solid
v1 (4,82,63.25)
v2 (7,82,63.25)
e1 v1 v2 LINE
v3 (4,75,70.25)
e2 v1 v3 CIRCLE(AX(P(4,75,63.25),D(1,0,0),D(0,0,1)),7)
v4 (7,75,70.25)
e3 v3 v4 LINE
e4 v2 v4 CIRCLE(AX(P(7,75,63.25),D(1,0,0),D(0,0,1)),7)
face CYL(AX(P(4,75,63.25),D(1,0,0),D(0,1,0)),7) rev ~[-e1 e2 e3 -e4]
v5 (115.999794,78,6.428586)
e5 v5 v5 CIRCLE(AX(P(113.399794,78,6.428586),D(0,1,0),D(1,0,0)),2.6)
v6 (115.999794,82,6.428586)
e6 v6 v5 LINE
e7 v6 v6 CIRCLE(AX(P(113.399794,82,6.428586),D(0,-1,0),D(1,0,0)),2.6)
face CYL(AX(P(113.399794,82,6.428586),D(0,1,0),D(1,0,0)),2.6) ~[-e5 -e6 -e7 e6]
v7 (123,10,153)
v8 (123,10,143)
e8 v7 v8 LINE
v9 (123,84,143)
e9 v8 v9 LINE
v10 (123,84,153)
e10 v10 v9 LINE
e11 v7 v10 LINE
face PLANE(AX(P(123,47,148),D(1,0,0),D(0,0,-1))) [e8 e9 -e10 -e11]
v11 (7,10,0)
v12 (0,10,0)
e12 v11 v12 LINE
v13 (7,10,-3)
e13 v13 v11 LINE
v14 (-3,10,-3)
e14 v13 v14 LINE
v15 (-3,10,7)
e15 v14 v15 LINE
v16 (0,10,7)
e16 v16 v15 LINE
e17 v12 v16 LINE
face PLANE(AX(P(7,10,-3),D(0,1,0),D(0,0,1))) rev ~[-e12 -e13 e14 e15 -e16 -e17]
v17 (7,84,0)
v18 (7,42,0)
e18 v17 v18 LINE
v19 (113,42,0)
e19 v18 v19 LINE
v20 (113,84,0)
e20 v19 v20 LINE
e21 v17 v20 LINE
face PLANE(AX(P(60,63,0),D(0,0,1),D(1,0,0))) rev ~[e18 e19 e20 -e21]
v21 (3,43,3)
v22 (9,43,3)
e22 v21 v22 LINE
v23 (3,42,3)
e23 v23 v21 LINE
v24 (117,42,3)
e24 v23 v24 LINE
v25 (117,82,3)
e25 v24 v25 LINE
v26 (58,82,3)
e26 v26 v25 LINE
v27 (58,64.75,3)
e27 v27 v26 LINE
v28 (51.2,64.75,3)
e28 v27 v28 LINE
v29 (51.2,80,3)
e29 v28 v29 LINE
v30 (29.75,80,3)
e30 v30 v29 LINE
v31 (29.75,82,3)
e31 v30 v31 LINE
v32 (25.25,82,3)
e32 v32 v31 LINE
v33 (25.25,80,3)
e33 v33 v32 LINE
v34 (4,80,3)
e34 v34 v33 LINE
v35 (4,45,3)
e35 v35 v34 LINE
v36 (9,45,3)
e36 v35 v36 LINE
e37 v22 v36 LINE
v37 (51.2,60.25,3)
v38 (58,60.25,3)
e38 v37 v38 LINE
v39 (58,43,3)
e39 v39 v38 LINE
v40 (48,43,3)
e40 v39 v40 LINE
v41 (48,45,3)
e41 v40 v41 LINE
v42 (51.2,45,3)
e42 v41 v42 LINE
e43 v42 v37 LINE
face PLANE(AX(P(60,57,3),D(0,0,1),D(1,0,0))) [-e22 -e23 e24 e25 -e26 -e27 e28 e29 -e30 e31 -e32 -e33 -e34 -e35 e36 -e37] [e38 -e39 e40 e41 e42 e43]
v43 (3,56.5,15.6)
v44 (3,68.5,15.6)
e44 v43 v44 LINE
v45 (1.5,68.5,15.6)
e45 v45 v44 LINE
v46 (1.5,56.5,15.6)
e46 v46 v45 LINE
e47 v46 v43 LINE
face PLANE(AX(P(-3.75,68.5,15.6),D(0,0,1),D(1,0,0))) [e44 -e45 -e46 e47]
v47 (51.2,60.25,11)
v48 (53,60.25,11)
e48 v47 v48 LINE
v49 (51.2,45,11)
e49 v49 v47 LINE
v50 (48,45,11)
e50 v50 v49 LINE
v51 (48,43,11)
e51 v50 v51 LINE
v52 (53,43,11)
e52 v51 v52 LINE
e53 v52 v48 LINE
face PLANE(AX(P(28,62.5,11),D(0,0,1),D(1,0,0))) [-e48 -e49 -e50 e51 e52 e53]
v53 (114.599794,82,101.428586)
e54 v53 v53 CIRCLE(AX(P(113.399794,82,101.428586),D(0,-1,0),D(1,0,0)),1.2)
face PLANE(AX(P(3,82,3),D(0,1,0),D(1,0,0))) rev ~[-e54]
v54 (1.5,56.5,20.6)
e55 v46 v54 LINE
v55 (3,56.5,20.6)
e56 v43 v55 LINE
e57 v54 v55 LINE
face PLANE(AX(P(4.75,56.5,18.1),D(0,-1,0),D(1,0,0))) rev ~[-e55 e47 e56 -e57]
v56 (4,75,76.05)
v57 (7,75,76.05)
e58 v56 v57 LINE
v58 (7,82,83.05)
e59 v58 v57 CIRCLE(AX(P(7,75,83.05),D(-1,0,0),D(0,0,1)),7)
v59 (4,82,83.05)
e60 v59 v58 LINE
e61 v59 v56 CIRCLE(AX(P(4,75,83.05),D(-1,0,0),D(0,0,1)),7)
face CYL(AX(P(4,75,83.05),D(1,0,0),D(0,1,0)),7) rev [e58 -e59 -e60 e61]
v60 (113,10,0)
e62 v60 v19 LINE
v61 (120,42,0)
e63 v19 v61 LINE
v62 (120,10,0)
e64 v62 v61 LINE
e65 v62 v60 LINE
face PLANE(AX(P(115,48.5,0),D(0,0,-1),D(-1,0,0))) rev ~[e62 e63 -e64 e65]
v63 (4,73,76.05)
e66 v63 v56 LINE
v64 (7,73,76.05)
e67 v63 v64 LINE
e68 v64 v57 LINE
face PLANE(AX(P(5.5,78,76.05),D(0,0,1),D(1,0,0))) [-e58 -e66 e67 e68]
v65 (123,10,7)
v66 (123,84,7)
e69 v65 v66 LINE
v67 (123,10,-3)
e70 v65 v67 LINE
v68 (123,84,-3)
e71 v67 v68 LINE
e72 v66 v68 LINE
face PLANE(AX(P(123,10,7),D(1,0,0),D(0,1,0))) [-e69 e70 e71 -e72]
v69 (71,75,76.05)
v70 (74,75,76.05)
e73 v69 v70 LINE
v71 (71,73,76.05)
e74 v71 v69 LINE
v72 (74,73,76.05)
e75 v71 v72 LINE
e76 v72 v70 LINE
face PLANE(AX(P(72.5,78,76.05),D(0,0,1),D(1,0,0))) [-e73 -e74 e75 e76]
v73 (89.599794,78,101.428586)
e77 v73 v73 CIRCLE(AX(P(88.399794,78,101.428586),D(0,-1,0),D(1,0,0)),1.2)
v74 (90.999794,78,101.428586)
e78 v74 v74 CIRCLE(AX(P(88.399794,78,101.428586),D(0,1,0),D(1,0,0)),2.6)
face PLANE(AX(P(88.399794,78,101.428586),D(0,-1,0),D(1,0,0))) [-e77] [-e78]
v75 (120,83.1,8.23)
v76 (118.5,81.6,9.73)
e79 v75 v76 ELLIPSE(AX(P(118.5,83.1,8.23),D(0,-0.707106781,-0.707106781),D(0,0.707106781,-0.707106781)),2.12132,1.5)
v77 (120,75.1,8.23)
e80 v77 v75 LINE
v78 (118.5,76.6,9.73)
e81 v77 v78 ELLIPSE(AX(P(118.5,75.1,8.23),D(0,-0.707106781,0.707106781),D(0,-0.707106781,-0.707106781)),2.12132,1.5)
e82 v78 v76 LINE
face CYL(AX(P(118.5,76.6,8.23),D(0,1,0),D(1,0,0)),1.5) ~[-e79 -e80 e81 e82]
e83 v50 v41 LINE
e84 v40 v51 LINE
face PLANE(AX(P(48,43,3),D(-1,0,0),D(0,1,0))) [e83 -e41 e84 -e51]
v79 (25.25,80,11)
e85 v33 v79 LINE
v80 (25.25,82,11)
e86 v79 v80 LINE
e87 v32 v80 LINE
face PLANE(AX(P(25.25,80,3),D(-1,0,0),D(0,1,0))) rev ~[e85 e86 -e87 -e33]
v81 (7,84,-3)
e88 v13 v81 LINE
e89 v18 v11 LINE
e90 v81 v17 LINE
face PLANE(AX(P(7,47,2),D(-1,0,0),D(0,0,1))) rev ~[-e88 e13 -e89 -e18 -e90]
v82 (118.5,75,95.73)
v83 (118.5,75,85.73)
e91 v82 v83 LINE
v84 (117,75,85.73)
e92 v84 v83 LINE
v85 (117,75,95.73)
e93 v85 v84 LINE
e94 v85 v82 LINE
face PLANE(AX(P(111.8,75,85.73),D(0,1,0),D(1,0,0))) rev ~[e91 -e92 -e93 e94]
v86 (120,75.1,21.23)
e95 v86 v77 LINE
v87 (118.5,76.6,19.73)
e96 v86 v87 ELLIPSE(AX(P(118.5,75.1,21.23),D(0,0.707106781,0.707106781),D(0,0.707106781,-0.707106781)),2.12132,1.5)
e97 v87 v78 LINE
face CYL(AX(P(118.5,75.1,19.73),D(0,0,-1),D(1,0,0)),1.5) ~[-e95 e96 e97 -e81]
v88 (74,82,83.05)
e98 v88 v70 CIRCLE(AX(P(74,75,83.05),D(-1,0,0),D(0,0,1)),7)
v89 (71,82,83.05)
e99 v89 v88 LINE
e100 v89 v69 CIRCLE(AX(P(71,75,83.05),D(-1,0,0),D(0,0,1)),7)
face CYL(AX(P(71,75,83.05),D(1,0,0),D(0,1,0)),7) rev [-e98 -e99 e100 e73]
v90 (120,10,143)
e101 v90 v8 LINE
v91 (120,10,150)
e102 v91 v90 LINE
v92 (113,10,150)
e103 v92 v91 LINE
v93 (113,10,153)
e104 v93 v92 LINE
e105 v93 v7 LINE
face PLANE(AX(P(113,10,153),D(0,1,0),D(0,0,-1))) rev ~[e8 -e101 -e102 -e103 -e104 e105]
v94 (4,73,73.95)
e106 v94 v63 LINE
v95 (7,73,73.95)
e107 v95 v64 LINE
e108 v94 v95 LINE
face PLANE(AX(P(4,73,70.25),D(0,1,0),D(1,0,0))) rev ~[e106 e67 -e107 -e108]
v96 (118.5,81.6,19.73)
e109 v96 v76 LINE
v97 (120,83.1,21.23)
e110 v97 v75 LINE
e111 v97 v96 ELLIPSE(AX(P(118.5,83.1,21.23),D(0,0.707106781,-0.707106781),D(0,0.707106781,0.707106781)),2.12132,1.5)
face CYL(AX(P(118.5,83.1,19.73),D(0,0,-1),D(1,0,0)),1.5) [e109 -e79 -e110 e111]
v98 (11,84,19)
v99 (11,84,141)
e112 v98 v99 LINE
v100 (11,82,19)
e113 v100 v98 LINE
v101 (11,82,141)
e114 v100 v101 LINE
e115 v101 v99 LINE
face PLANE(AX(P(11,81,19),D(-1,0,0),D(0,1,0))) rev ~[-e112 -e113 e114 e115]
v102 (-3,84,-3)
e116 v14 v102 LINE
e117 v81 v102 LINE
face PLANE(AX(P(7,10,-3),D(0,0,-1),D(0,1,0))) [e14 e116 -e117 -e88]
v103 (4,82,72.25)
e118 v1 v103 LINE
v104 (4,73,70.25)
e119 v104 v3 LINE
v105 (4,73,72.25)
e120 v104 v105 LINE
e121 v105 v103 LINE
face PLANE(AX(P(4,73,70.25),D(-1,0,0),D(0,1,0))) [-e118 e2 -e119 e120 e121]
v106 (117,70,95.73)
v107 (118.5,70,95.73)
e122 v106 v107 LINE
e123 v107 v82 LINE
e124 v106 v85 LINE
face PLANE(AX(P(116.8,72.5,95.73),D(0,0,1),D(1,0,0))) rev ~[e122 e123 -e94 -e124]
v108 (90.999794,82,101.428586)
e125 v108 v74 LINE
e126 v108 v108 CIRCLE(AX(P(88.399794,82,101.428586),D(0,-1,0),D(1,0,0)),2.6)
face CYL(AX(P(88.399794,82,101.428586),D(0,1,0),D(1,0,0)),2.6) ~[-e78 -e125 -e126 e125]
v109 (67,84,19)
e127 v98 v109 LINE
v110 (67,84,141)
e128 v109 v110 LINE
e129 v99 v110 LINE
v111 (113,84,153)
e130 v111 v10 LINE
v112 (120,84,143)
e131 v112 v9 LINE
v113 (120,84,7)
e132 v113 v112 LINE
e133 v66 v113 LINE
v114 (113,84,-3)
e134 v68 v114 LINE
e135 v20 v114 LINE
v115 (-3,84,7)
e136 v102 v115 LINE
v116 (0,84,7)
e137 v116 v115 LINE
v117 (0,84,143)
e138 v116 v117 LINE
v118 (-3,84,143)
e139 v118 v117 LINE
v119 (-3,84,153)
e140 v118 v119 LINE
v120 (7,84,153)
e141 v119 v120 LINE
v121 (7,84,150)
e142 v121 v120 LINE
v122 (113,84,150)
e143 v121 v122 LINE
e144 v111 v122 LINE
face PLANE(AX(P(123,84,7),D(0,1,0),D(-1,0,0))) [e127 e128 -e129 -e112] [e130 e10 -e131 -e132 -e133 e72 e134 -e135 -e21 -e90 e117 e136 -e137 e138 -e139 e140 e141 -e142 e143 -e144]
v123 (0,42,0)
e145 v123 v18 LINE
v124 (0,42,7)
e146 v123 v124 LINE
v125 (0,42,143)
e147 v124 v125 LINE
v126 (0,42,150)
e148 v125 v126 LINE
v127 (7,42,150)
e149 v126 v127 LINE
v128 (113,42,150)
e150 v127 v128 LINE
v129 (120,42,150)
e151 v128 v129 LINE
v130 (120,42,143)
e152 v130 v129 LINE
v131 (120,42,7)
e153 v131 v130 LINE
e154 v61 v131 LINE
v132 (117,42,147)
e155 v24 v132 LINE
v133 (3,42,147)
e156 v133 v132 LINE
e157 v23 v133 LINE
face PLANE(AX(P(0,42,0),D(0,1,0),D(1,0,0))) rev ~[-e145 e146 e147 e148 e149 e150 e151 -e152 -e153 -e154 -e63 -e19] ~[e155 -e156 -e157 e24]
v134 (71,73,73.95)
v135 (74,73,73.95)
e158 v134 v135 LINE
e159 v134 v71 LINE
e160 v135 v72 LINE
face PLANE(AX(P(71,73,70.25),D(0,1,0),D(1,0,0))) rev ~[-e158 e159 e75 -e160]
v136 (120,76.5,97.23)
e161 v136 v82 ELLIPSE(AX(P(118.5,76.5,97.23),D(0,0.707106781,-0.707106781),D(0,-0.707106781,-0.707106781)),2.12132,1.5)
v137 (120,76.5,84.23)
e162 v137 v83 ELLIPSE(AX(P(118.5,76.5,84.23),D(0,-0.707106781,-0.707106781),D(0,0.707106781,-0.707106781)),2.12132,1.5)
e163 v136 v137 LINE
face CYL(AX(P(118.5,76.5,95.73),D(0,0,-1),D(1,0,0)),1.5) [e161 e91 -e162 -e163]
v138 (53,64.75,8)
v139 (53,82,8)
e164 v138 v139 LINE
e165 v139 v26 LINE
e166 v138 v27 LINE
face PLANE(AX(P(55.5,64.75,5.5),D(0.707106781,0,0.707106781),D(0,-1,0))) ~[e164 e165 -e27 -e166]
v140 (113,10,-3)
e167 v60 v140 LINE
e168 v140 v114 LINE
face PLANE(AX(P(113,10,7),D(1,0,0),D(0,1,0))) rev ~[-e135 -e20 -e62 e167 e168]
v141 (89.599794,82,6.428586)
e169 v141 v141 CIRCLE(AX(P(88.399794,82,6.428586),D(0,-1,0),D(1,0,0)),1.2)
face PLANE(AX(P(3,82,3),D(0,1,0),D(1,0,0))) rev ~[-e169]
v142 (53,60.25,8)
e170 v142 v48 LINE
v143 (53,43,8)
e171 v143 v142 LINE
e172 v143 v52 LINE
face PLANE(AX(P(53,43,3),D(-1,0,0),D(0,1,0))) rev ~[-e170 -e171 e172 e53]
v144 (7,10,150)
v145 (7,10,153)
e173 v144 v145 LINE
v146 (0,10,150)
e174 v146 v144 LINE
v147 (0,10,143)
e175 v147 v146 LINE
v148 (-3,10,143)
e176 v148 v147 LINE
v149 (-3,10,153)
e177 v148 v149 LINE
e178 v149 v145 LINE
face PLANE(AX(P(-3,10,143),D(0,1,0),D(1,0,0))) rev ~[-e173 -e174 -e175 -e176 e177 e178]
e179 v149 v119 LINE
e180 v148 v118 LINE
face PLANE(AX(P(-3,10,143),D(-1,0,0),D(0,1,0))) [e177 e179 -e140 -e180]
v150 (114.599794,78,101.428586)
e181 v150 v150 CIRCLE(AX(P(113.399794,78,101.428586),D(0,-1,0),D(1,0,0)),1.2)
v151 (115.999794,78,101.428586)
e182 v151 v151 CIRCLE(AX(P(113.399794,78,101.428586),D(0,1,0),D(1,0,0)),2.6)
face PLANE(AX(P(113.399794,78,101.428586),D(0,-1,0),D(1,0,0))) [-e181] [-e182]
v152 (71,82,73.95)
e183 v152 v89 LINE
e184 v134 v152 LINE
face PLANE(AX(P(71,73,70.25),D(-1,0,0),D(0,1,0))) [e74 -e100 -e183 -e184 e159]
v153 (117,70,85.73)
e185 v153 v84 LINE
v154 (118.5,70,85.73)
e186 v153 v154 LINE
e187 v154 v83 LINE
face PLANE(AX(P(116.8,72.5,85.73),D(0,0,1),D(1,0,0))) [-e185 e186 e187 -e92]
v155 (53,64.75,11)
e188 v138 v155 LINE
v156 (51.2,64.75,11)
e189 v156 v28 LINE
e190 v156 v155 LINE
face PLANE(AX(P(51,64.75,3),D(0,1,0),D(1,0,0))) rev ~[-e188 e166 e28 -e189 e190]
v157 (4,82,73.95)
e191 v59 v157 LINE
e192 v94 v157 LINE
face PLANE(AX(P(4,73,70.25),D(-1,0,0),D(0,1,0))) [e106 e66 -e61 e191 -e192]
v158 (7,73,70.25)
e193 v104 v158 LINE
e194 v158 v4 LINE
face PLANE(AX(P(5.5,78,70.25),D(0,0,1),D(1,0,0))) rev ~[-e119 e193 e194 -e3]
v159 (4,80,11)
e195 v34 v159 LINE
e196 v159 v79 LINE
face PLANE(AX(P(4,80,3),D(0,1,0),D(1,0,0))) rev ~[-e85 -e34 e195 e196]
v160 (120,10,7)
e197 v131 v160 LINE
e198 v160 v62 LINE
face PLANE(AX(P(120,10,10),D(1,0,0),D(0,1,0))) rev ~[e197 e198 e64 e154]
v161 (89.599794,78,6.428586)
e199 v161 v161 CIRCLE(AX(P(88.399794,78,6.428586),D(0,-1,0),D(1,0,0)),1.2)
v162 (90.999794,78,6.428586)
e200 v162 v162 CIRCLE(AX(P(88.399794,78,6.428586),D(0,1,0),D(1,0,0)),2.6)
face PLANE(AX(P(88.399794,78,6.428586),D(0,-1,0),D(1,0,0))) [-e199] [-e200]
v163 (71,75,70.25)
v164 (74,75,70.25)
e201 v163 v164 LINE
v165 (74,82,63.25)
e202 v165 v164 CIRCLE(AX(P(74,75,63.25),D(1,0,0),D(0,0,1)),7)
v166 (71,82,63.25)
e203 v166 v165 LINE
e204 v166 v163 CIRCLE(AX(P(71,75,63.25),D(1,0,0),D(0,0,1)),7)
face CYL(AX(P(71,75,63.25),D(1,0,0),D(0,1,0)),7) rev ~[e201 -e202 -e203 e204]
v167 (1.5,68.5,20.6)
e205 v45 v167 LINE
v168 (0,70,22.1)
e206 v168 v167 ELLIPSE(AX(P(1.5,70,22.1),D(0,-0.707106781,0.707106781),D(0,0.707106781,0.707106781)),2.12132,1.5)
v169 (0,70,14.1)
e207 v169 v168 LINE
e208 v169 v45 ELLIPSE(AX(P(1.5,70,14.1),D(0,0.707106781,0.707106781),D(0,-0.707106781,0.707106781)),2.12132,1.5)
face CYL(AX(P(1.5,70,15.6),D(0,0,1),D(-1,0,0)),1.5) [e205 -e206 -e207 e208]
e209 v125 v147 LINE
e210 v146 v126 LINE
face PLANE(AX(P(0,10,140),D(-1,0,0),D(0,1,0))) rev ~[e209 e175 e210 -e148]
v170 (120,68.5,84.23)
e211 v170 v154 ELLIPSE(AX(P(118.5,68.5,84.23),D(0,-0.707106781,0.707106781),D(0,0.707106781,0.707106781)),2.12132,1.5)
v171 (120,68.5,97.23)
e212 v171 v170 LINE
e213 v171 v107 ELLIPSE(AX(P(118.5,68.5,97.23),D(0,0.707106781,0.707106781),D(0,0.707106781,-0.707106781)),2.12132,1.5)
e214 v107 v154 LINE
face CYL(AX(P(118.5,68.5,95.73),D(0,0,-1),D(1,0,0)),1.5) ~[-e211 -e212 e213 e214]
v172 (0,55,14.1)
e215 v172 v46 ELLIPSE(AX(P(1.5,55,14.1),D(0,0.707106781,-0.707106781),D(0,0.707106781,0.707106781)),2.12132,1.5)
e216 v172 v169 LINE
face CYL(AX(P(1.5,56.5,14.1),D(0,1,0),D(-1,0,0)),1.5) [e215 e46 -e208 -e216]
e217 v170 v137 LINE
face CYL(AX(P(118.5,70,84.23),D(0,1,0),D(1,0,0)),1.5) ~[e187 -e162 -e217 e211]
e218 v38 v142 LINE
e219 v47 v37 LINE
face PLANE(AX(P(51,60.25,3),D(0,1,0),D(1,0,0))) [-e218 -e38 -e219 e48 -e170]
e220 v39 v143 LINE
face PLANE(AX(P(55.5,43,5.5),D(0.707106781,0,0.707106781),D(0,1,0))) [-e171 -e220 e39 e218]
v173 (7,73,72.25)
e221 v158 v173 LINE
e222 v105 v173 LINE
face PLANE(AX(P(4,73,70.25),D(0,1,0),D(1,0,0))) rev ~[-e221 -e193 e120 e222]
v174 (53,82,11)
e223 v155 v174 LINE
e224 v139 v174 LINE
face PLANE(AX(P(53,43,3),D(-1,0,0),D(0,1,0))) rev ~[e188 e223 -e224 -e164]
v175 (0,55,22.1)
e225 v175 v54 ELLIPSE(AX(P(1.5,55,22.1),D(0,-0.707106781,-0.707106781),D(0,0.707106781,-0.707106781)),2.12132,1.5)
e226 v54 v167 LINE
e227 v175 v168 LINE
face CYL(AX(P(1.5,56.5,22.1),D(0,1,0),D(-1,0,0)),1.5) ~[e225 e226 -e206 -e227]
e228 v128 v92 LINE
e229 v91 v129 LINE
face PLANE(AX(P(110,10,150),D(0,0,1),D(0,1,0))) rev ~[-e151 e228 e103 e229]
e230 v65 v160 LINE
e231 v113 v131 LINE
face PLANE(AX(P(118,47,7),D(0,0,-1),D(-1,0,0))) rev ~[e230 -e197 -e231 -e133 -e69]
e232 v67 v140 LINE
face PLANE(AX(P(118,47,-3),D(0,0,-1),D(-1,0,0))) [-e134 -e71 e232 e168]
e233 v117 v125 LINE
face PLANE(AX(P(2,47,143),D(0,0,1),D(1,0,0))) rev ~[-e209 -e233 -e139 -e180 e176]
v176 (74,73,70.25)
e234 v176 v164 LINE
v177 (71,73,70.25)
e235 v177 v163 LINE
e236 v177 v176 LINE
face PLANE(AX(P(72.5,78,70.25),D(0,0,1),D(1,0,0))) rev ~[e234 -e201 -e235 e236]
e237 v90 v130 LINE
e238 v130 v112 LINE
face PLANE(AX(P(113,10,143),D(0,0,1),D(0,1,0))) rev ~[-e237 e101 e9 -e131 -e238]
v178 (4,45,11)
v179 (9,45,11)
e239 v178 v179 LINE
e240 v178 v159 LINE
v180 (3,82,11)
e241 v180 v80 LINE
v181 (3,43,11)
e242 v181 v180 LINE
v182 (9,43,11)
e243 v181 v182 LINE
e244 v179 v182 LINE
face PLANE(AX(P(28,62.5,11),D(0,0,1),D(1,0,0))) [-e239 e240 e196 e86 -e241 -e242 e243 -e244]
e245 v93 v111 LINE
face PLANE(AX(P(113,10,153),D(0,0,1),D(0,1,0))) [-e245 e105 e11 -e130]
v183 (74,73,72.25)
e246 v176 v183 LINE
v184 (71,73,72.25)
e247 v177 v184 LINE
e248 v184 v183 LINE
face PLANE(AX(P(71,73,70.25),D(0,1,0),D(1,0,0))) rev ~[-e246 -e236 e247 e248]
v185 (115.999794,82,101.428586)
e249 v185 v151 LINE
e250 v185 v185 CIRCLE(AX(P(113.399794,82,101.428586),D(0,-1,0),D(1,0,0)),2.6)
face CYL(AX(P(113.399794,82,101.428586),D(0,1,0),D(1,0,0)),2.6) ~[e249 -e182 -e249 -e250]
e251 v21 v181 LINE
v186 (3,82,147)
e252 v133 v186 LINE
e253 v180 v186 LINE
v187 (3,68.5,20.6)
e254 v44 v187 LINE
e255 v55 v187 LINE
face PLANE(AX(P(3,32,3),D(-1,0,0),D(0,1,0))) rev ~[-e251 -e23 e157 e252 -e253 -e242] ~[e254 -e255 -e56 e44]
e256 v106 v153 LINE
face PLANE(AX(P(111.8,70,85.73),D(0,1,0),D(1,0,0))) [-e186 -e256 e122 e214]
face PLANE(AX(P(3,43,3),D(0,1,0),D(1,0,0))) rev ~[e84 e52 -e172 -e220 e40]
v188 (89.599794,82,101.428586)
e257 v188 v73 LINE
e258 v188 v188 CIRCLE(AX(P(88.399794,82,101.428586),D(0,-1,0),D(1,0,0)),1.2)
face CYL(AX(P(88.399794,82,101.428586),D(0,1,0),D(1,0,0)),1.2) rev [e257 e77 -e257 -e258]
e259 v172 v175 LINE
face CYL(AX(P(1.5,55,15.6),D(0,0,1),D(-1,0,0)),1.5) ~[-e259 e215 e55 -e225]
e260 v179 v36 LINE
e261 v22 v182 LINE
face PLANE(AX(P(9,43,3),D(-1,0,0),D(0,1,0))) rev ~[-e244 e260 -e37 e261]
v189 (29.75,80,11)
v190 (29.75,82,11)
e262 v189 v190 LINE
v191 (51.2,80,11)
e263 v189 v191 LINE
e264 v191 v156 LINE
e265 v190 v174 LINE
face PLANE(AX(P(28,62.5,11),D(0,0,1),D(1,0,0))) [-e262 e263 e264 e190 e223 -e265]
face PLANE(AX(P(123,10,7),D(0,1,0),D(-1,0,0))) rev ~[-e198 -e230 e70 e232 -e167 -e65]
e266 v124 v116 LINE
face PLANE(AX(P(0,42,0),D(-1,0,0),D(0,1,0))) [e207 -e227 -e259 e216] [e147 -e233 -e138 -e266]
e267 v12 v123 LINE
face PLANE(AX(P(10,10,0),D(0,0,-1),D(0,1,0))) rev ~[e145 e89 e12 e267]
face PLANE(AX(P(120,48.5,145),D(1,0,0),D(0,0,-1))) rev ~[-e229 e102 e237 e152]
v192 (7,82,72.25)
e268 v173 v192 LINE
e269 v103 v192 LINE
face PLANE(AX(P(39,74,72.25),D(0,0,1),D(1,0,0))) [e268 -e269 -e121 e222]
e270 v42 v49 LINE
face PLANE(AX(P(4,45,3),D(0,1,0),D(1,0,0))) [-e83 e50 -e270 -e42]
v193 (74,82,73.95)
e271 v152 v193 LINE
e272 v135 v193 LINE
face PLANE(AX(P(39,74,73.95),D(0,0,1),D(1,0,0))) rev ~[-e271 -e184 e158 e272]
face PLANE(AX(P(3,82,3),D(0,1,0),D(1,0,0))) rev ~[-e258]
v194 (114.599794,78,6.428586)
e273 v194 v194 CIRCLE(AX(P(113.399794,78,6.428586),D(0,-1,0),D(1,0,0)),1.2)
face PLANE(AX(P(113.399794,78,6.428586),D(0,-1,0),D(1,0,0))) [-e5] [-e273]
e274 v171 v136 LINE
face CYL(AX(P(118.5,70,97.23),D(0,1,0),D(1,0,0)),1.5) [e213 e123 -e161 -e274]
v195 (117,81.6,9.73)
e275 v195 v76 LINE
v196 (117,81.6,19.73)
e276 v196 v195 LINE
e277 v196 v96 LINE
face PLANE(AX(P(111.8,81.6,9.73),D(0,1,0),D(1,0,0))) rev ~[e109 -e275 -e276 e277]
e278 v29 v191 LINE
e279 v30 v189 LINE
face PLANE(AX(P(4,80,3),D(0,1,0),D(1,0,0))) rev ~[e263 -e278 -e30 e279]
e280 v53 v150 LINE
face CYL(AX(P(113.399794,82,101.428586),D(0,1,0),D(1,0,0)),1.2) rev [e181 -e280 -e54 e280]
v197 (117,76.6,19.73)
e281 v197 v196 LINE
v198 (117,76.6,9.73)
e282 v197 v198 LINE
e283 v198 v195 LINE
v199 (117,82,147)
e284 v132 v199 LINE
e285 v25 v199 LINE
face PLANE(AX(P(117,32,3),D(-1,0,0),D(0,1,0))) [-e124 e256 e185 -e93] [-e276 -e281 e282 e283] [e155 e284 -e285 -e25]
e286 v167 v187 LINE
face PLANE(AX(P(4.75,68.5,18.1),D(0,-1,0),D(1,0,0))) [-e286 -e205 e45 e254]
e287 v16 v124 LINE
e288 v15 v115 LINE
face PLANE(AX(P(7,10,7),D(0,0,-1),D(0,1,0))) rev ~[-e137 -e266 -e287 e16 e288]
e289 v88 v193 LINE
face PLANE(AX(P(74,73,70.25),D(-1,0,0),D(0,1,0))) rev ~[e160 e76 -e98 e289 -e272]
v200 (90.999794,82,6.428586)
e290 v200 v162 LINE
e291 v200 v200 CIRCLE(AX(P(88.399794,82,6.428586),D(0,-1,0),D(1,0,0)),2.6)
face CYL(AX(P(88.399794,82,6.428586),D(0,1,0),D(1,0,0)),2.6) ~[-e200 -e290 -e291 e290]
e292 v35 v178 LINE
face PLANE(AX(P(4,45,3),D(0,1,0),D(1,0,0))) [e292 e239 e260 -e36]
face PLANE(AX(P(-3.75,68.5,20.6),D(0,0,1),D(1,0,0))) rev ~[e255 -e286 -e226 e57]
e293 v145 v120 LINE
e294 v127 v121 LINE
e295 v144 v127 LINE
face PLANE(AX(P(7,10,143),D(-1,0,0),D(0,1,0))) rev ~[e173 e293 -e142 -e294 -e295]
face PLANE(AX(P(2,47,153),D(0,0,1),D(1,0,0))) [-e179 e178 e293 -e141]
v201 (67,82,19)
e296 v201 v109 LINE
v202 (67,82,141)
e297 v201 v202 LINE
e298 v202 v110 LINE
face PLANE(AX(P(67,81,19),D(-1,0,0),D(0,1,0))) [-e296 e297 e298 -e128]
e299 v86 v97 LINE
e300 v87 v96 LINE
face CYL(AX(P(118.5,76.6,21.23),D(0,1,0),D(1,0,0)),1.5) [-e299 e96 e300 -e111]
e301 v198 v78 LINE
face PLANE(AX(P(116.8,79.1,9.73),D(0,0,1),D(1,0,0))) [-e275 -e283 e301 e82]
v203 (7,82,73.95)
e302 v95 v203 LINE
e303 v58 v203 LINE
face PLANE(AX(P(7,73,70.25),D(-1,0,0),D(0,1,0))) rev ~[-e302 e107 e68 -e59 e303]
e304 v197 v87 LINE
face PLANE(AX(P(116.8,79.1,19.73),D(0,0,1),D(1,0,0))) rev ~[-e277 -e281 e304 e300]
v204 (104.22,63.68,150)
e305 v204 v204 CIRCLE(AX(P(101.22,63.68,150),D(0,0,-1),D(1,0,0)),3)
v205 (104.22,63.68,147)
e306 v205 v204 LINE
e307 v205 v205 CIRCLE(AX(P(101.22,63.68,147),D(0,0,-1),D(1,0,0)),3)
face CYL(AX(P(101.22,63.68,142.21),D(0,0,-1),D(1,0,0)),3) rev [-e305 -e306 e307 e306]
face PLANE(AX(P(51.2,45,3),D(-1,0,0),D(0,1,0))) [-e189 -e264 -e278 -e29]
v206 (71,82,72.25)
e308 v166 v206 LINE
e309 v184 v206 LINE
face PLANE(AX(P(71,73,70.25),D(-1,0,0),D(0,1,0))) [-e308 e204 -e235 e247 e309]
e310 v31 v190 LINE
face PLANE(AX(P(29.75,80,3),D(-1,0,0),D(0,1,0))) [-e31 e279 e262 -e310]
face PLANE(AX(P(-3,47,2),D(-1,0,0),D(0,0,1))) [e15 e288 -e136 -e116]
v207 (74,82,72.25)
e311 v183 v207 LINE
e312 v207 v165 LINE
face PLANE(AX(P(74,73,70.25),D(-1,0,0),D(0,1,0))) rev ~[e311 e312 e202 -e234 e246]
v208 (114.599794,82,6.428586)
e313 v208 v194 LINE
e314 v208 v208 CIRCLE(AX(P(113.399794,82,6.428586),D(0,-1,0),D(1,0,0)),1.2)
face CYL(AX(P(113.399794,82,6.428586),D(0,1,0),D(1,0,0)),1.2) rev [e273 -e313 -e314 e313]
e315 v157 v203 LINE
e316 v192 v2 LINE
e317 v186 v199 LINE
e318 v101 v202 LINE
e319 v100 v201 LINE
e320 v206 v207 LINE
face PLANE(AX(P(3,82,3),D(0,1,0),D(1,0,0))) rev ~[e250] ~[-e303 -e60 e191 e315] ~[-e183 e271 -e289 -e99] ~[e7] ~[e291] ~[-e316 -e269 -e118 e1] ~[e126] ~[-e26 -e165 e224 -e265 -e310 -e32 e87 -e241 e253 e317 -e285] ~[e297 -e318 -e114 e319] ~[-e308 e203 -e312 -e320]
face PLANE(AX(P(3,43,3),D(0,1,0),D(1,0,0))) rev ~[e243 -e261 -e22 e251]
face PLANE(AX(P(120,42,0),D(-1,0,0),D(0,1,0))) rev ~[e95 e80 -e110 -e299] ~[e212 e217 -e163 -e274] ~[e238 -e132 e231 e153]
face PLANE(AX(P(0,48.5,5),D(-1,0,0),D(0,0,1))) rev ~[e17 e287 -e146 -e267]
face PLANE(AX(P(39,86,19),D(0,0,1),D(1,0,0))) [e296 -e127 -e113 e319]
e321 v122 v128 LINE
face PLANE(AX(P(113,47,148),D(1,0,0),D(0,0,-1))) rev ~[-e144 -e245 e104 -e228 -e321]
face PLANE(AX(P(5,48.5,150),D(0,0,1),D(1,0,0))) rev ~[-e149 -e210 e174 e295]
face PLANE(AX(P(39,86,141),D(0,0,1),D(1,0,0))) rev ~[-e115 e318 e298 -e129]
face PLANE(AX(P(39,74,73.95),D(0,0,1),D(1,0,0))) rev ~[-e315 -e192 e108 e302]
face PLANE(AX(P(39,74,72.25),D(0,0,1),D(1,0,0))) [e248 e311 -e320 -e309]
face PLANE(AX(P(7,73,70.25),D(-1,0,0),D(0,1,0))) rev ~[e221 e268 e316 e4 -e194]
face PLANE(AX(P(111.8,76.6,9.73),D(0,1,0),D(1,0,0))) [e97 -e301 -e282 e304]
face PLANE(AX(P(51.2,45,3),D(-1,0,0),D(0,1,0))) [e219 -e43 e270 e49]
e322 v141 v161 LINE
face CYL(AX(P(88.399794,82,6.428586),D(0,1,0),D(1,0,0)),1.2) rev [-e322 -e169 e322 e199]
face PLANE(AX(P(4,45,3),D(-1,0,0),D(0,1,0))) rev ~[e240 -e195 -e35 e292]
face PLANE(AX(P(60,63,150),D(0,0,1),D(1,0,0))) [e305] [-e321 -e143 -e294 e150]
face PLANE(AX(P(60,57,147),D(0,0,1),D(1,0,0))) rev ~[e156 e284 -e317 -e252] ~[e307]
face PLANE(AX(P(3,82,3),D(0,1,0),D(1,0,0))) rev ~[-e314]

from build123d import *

# Parameters (mm, degrees)
CYLINDER002_R             = 3
CYLINDER002_DEPTH         = 10
BOX040_W                  = 56
BOX040_H                  = 10
BOX040_DEPTH              = 122
BOX021_W                  = 47.2
BOX021_H                  = 35
BOX021_DEPTH              = 8
BOX023_W                  = 4.5
BOX023_H                  = 2
BOX023_DEPTH              = 8
BOX022_W                  = 2
BOX022_H                  = 4.5
BOX022_DEPTH              = 8
BOX020_W                  = 17
BOX020_H                  = 5
BOX020_DEPTH              = 12
BOX018_W                  = 48.5
BOX018_H                  = 4.6
BOX018_DEPTH              = 25.5
FUSION005_PLACEMENT_ANGLE = 90
BOX029_W                  = 10
BOX029_H                  = 5
BOX029_DEPTH              = 10
BOX027_W                  = 29.6
BOX027_H                  = 2
BOX027_DEPTH              = 99.5
BOX028_W                  = 10
BOX028_H                  = 5
BOX028_DEPTH              = 10
BOX035_W                  = 10
BOX035_H                  = 77
BOX035_DEPTH              = 10
BOX034_W                  = 10
BOX034_H                  = 74
BOX034_DEPTH              = 10
CUT016_PLACEMENT_ANGLE    = 90
BOX037_W                  = 10
BOX037_H                  = 77
BOX037_DEPTH              = 10
BOX036_W                  = 10
BOX036_H                  = 74
BOX036_DEPTH              = 10
CUT017_PLACEMENT_ANGLE    = 90
BOX039_W                  = 10
BOX039_H                  = 77
BOX039_DEPTH              = 10
BOX038_W                  = 10
BOX038_H                  = 74
BOX038_DEPTH              = 10
CUT018_PLACEMENT_ANGLE    = 180
BOX033_W                  = 10
BOX033_H                  = 77
BOX033_DEPTH              = 10
BOX017_W                  = 10
BOX017_H                  = 74
BOX017_DEPTH              = 10
BOX032_W                  = 39
BOX032_H                  = 10
BOX032_DEPTH              = 10
BOX024_W                  = 50
BOX024_H                  = 39
BOX024_DEPTH              = 8
BOX026_W                  = 72
BOX026_H                  = 18
BOX026_DEPTH              = 1.7
BOX025_W                  = 3
BOX025_H                  = 10
BOX025_DEPTH              = 5.8
ARRAY005_X_COUNT          = 2
ARRAY005_X_PITCH          = 67
CYLINDER001_R             = 1.2
CYLINDER001_DEPTH         = 4
CYLINDER_R                = 2.6
CYLINDER_DEPTH            = 4
ARRAY006_X_COUNT          = 2
ARRAY006_X_PITCH          = 25
ARRAY006_Z_COUNT          = 2
ARRAY006_Z_PITCH          = 95
BOX016_W                  = 114
BOX016_H                  = 50
BOX016_DEPTH              = 144
BOX015_W                  = 120
BOX015_H                  = 42
BOX015_DEPTH              = 150
FILLET001_R               = 7
CHAMFER_SIZE              = 5
FILLET002_R               = 1.5


with BuildPart() as cilindro002:
    # Cylinder002 → Cylinder002 (new body)
    with BuildSketch(Plane(origin=(101.22, 63.68, 142.21), x_dir=(1, 0, 0), z_dir=(0, 0, 1))):
        Circle(CYLINDER002_R)
    extrude(amount=CYLINDER002_DEPTH)


with BuildPart() as cubo021:
    # Box040 → Box040 (new body)
    with BuildSketch(Plane(origin=(11, 81, 19), x_dir=(1, 0, 0), z_dir=(0, 0, 1))):
        with Locations((28, 5)):
            Rectangle(BOX040_W, BOX040_H)
    extrude(amount=BOX040_DEPTH)


with BuildPart() as protoboard:
    # Box021 → Box021 (new body)
    with BuildSketch(Plane.XY):
        with Locations((23.6, 17.5)):
            Rectangle(BOX021_W, BOX021_H)
    extrude(amount=BOX021_DEPTH)


with BuildPart() as salida_proto001:
    # Box023 → Box023 (new body)
    with BuildSketch(Plane(origin=(21.25, 35, 0), x_dir=(1, 0, 0), z_dir=(0, 0, 1))):
        with Locations((2.25, 1)):
            Rectangle(BOX023_W, BOX023_H)
    extrude(amount=BOX023_DEPTH)


with BuildPart() as salida_proto:
    # Box022 → Box022 (new body)
    with BuildSketch(Plane(origin=(47, 15.25, 0), x_dir=(1, 0, 0), z_dir=(0, 0, 1))):
        with Locations((1, 2.25)):
            Rectangle(BOX022_W, BOX022_H)
    extrude(amount=BOX022_DEPTH)


with BuildPart() as cubo010:
    # Box020 → Box020 (new body)
    with BuildSketch(Plane(origin=(-7, 5, 6.75), x_dir=(1, 0, 0), z_dir=(0, 0, 1))):
        with Locations((8.5, 2.5)):
            Rectangle(BOX020_W, BOX020_H)
    extrude(amount=BOX020_DEPTH)


with BuildPart() as proto_nodemcu:
    # Box018 → Box018 (new body)
    with BuildSketch(Plane(origin=(0, 0.4, 0), x_dir=(1, 0, 0), z_dir=(0, 0, 1))):
        with Locations((24.25, 2.3)):
            Rectangle(BOX018_W, BOX018_H)
    extrude(amount=BOX018_DEPTH)

    # Fusion005: union Cubo010
    add(cubo010.part)


with BuildPart() as proto_nodemcu_1:
    # Fusion005 placement: moved
    add(proto_nodemcu.part.moved(Location((-0.75, 30.25, 7.6))).rotate(Axis((-0.75, 30.25, 7.6), (1, 0, 0)), FUSION005_PLACEMENT_ANGLE))

    # Fusion006: union protoboard, salida_proto001, salida_proto
    add(protoboard.part)
    add(salida_proto001.part)
    add(salida_proto.part)


with BuildPart() as proto_nodemcu_2:
    # Fusion006 placement: moved
    add(proto_nodemcu_1.part.moved(Location((4, 45, 3))))


with BuildPart() as on_off:
    # Box029 → Box029 (new body)
    with BuildSketch(Plane(origin=(26, -6, 81.5), x_dir=(1, 0, 0), z_dir=(0, 0, 1))):
        with Locations((5, 2.5)):
            Rectangle(BOX029_W, BOX029_H)
    extrude(amount=BOX029_DEPTH)


with BuildPart() as base_pilas:
    # Box027 → Box027 (new body)
    with BuildSketch(Plane.XY):
        with Locations((14.8, 1)):
            Rectangle(BOX027_W, BOX027_H)
    extrude(amount=BOX027_DEPTH)


with BuildPart() as fusion011:
    # Box028 → Box028 (new body)
    with BuildSketch(Plane(origin=(26, 0.6, 5.5), x_dir=(1, 0, 0), z_dir=(0, 0, 1))):
        with Locations((5, 2.5)):
            Rectangle(BOX028_W, BOX028_H)
    extrude(amount=BOX028_DEPTH)

    # Fusion008: union on_off, base_pilas
    add(on_off.part)
    add(base_pilas.part)


with BuildPart() as fusion011_1:
    # Fusion008 placement: moved
    add(fusion011.part.moved(Location((85.8, 76, 4.23))))

    # Fusion011: union proto_nodemcu
    add(proto_nodemcu_2.part)


with BuildPart() as cubo016:
    # Box035 → Box035 (new body)
    with BuildSketch(Plane(origin=(0, 10, 140), x_dir=(1, 0, 0), z_dir=(0, 0, 1))):
        with Locations((5, 38.5)):
            Rectangle(BOX035_W, BOX035_H)
    extrude(amount=BOX035_DEPTH)


with BuildPart() as cut016:
    # Box034 → Box034 (new body)
    with BuildSketch(Plane(origin=(-3, 10, 143), x_dir=(1, 0, 0), z_dir=(0, 0, 1))):
        with Locations((5, 37)):
            Rectangle(BOX034_W, BOX034_H)
    extrude(amount=BOX034_DEPTH)

    # Cut016: cut Cubo016
    add(cubo016.part, mode=Mode.SUBTRACT)


with BuildPart() as cut016_1:
    # Cut016 placement: moved
    add(cut016.part.moved(Location((-30, 0, 150))).rotate(Axis((-30, 0, 150), (0, 1, 0)), CUT016_PLACEMENT_ANGLE))


with BuildPart() as cubo018:
    # Box037 → Box037 (new body)
    with BuildSketch(Plane(origin=(0, 10, 140), x_dir=(1, 0, 0), z_dir=(0, 0, 1))):
        with Locations((5, 38.5)):
            Rectangle(BOX037_W, BOX037_H)
    extrude(amount=BOX037_DEPTH)


with BuildPart() as cut017:
    # Box036 → Box036 (new body)
    with BuildSketch(Plane(origin=(-3, 10, 143), x_dir=(1, 0, 0), z_dir=(0, 0, 1))):
        with Locations((5, 37)):
            Rectangle(BOX036_W, BOX036_H)
    extrude(amount=BOX036_DEPTH)

    # Cut017: cut Cubo018
    add(cubo018.part, mode=Mode.SUBTRACT)


with BuildPart() as cut017_1:
    # Cut017 placement: moved
    add(cut017.part.moved(Location((150, 0, 0))).rotate(Axis((150, 0, 0), (0, -1, 0)), CUT017_PLACEMENT_ANGLE))


with BuildPart() as cubo020:
    # Box039 → Box039 (new body)
    with BuildSketch(Plane(origin=(0, 10, 140), x_dir=(1, 0, 0), z_dir=(0, 0, 1))):
        with Locations((5, 38.5)):
            Rectangle(BOX039_W, BOX039_H)
    extrude(amount=BOX039_DEPTH)


with BuildPart() as cut018:
    # Box038 → Box038 (new body)
    with BuildSketch(Plane(origin=(-3, 10, 143), x_dir=(1, 0, 0), z_dir=(0, 0, 1))):
        with Locations((5, 37)):
            Rectangle(BOX038_W, BOX038_H)
    extrude(amount=BOX038_DEPTH)

    # Cut018: cut Cubo020
    add(cubo020.part, mode=Mode.SUBTRACT)


with BuildPart() as cut018_1:
    # Cut018 placement: moved
    add(cut018.part.moved(Location((120, 0, 150))).rotate(Axis((120, 0, 150), (0, 1, 0)), CUT018_PLACEMENT_ANGLE))


with BuildPart() as cubo014:
    # Box033 → Box033 (new body)
    with BuildSketch(Plane(origin=(0, 10, 140), x_dir=(1, 0, 0), z_dir=(0, 0, 1))):
        with Locations((5, 38.5)):
            Rectangle(BOX033_W, BOX033_H)
    extrude(amount=BOX033_DEPTH)


with BuildPart() as soportes_frontis:
    # Box017 → Box017 (new body)
    with BuildSketch(Plane(origin=(-3, 10, 143), x_dir=(1, 0, 0), z_dir=(0, 0, 1))):
        with Locations((5, 37)):
            Rectangle(BOX017_W, BOX017_H)
    extrude(amount=BOX017_DEPTH)

    # Cut015: cut Cubo014
    add(cubo014.part, mode=Mode.SUBTRACT)

    # Fusion009: union Cut016, Cut017, Cut018
    add(cut016_1.part)
    add(cut017_1.part)
    add(cut018_1.part)


with BuildPart() as cubo013:
    # Box032 → Box032 (new body)
    with BuildSketch(Plane(origin=(9, 43, 3), x_dir=(1, 0, 0), z_dir=(0, 0, 1))):
        with Locations((19.5, 5)):
            Rectangle(BOX032_W, BOX032_H)
    extrude(amount=BOX032_DEPTH)


with BuildPart() as baseproto:
    # Box024 → Box024 (new body)
    with BuildSketch(Plane(origin=(3, 43, 3), x_dir=(1, 0, 0), z_dir=(0, 0, 1))):
        with Locations((25, 19.5)):
            Rectangle(BOX024_W, BOX024_H)
    extrude(amount=BOX024_DEPTH)

    # Cut014: cut Cubo013
    add(cubo013.part, mode=Mode.SUBTRACT)


with BuildPart() as leds:
    # Box026 → Box026 (new body)
    with BuildSketch(Plane(origin=(-1, 0, 2), x_dir=(1, 0, 0), z_dir=(0, 0, 1))):
        with Locations((36, 9)):
            Rectangle(BOX026_W, BOX026_H)
    extrude(amount=BOX026_DEPTH)


with BuildPart() as soporte_placa_leds:
    # Box025 → Box025 (new body)
    with BuildSketch(Plane(origin=(0, 8, 0), x_dir=(1, 0, 0), z_dir=(0, 0, 1))):
        with Locations((1.5, 5)):
            Rectangle(BOX025_W, BOX025_H)
    extrude(amount=BOX025_DEPTH)

    # Array005 X: soporte_placa_leds ×2


with BuildPart() as soporte_placa_leds_1:
    add(soporte_placa_leds.part)
    with Locations(*[(i * ARRAY005_X_PITCH, 0, 0) for i in range(1, ARRAY005_X_COUNT)]):
        add(soporte_placa_leds.part)

    # Cut012: cut leds
    add(leds.part, mode=Mode.SUBTRACT)


with BuildPart() as soporte_placa_leds_2:
    # Cut012 placement: moved
    add(soporte_placa_leds_1.part.moved(Location((4, 65, 70.25))))


with BuildPart() as cilindro001:
    # Cylinder001 → Cylinder001 (new body)
    with BuildSketch(Plane(origin=(2.6, 0, 2.6), x_dir=(1, 0, 0), z_dir=(0, -1, 0))):
        Circle(CYLINDER001_R)
    extrude(amount=CYLINDER001_DEPTH)


with BuildPart() as array006:
    # Cylinder → Cylinder (new body)
    with BuildSketch(Plane(origin=(2.6, 0, 2.6), x_dir=(1, 0, 0), z_dir=(0, -1, 0))):
        Circle(CYLINDER_R)
    extrude(amount=CYLINDER_DEPTH)

    # Cut013: cut Cilindro001
    add(cilindro001.part, mode=Mode.SUBTRACT)


with BuildPart() as array006_1:
    # Cut013 placement: moved
    add(array006.part.moved(Location((31.199794, 82, -20.171414))))

    # Array006 X: Array006 ×2


with BuildPart() as array006_2:
    add(array006_1.part)
    with Locations(*[(i * ARRAY006_X_PITCH, 0, 0) for i in range(1, ARRAY006_X_COUNT)]):
        add(array006_1.part)

    # Array006 Z: Array006 ×2


with BuildPart() as array006_3:
    add(array006_2.part)
    with Locations(*[(0, 0, i * ARRAY006_Z_PITCH) for i in range(1, ARRAY006_Z_COUNT)]):
        add(array006_2.part)


with BuildPart() as array006_4:
    # Array006 placement: moved
    add(array006_3.part.moved(Location((54.6, 0, 24))))


with BuildPart() as cubo006:
    # Box016 → Box016 (new body)
    with BuildSketch(Plane(origin=(3, 32, 3), x_dir=(1, 0, 0), z_dir=(0, 0, 1))):
        with Locations((57, 25)):
            Rectangle(BOX016_W, BOX016_H)
    extrude(amount=BOX016_DEPTH)


with BuildPart() as closet_bottom_esp8266:
    # Box015 → Box015 (new body)
    with BuildSketch(Plane(origin=(0, 42, 0), x_dir=(1, 0, 0), z_dir=(0, 0, 1))):
        with Locations((60, 21)):
            Rectangle(BOX015_W, BOX015_H)
    extrude(amount=BOX015_DEPTH)

    # Cut010: cut Cubo006
    add(cubo006.part, mode=Mode.SUBTRACT)

    # Fusion010: union soportes_frontis, baseProto, soporte_placa_leds, Array006
    add(soportes_frontis.part)
    add(baseproto.part)
    add(soporte_placa_leds_2.part)
    add(array006_4.part)

    # Cut019: cut Fusion011
    add(fusion011_1.part, mode=Mode.SUBTRACT)

    # Cut020: cut Cubo021
    add(cubo021.part, mode=Mode.SUBTRACT)

    # Cut021: cut Cilindro002
    add(cilindro002.part, mode=Mode.SUBTRACT)

    # Fillet001
    fillet001_edges = [closet_bottom_esp8266.edges().sort_by_distance(p)[0] for p in [
        (5.5, 82, 70.25),
        (5.5, 82, 76.05),
        (72.5, 82, 70.25),
        (72.5, 82, 76.05),
    ]]
    fillet(fillet001_edges, radius=FILLET001_R)

    # Chamfer
    chamfer_edges = [closet_bottom_esp8266.edges().sort_by_distance(p)[0] for p in [
        (53, 51.625, 3),
        (53, 73.375, 3),
    ]]
    chamfer(chamfer_edges, length=CHAMFER_SIZE)

    # Fillet002
    fillet002_edges = [closet_bottom_esp8266.edges().sort_by_distance(p)[0] for p in [
        (120, 79.1, 19.73),
        (120, 76.6, 14.73),
        (120, 79.1, 9.73),
        (120, 81.6, 14.73),
        (120, 72.5, 85.73),
        (120, 75, 90.73),
        (120, 72.5, 95.73),
        (120, 70, 90.73),
        (0, 68.5, 18.1),
        (0, 62.5, 20.6),
        (0, 56.5, 18.1),
        (0, 62.5, 15.6),
    ]]
    fillet(fillet002_edges, radius=FILLET002_R)


solid = closet_bottom_esp8266.part
